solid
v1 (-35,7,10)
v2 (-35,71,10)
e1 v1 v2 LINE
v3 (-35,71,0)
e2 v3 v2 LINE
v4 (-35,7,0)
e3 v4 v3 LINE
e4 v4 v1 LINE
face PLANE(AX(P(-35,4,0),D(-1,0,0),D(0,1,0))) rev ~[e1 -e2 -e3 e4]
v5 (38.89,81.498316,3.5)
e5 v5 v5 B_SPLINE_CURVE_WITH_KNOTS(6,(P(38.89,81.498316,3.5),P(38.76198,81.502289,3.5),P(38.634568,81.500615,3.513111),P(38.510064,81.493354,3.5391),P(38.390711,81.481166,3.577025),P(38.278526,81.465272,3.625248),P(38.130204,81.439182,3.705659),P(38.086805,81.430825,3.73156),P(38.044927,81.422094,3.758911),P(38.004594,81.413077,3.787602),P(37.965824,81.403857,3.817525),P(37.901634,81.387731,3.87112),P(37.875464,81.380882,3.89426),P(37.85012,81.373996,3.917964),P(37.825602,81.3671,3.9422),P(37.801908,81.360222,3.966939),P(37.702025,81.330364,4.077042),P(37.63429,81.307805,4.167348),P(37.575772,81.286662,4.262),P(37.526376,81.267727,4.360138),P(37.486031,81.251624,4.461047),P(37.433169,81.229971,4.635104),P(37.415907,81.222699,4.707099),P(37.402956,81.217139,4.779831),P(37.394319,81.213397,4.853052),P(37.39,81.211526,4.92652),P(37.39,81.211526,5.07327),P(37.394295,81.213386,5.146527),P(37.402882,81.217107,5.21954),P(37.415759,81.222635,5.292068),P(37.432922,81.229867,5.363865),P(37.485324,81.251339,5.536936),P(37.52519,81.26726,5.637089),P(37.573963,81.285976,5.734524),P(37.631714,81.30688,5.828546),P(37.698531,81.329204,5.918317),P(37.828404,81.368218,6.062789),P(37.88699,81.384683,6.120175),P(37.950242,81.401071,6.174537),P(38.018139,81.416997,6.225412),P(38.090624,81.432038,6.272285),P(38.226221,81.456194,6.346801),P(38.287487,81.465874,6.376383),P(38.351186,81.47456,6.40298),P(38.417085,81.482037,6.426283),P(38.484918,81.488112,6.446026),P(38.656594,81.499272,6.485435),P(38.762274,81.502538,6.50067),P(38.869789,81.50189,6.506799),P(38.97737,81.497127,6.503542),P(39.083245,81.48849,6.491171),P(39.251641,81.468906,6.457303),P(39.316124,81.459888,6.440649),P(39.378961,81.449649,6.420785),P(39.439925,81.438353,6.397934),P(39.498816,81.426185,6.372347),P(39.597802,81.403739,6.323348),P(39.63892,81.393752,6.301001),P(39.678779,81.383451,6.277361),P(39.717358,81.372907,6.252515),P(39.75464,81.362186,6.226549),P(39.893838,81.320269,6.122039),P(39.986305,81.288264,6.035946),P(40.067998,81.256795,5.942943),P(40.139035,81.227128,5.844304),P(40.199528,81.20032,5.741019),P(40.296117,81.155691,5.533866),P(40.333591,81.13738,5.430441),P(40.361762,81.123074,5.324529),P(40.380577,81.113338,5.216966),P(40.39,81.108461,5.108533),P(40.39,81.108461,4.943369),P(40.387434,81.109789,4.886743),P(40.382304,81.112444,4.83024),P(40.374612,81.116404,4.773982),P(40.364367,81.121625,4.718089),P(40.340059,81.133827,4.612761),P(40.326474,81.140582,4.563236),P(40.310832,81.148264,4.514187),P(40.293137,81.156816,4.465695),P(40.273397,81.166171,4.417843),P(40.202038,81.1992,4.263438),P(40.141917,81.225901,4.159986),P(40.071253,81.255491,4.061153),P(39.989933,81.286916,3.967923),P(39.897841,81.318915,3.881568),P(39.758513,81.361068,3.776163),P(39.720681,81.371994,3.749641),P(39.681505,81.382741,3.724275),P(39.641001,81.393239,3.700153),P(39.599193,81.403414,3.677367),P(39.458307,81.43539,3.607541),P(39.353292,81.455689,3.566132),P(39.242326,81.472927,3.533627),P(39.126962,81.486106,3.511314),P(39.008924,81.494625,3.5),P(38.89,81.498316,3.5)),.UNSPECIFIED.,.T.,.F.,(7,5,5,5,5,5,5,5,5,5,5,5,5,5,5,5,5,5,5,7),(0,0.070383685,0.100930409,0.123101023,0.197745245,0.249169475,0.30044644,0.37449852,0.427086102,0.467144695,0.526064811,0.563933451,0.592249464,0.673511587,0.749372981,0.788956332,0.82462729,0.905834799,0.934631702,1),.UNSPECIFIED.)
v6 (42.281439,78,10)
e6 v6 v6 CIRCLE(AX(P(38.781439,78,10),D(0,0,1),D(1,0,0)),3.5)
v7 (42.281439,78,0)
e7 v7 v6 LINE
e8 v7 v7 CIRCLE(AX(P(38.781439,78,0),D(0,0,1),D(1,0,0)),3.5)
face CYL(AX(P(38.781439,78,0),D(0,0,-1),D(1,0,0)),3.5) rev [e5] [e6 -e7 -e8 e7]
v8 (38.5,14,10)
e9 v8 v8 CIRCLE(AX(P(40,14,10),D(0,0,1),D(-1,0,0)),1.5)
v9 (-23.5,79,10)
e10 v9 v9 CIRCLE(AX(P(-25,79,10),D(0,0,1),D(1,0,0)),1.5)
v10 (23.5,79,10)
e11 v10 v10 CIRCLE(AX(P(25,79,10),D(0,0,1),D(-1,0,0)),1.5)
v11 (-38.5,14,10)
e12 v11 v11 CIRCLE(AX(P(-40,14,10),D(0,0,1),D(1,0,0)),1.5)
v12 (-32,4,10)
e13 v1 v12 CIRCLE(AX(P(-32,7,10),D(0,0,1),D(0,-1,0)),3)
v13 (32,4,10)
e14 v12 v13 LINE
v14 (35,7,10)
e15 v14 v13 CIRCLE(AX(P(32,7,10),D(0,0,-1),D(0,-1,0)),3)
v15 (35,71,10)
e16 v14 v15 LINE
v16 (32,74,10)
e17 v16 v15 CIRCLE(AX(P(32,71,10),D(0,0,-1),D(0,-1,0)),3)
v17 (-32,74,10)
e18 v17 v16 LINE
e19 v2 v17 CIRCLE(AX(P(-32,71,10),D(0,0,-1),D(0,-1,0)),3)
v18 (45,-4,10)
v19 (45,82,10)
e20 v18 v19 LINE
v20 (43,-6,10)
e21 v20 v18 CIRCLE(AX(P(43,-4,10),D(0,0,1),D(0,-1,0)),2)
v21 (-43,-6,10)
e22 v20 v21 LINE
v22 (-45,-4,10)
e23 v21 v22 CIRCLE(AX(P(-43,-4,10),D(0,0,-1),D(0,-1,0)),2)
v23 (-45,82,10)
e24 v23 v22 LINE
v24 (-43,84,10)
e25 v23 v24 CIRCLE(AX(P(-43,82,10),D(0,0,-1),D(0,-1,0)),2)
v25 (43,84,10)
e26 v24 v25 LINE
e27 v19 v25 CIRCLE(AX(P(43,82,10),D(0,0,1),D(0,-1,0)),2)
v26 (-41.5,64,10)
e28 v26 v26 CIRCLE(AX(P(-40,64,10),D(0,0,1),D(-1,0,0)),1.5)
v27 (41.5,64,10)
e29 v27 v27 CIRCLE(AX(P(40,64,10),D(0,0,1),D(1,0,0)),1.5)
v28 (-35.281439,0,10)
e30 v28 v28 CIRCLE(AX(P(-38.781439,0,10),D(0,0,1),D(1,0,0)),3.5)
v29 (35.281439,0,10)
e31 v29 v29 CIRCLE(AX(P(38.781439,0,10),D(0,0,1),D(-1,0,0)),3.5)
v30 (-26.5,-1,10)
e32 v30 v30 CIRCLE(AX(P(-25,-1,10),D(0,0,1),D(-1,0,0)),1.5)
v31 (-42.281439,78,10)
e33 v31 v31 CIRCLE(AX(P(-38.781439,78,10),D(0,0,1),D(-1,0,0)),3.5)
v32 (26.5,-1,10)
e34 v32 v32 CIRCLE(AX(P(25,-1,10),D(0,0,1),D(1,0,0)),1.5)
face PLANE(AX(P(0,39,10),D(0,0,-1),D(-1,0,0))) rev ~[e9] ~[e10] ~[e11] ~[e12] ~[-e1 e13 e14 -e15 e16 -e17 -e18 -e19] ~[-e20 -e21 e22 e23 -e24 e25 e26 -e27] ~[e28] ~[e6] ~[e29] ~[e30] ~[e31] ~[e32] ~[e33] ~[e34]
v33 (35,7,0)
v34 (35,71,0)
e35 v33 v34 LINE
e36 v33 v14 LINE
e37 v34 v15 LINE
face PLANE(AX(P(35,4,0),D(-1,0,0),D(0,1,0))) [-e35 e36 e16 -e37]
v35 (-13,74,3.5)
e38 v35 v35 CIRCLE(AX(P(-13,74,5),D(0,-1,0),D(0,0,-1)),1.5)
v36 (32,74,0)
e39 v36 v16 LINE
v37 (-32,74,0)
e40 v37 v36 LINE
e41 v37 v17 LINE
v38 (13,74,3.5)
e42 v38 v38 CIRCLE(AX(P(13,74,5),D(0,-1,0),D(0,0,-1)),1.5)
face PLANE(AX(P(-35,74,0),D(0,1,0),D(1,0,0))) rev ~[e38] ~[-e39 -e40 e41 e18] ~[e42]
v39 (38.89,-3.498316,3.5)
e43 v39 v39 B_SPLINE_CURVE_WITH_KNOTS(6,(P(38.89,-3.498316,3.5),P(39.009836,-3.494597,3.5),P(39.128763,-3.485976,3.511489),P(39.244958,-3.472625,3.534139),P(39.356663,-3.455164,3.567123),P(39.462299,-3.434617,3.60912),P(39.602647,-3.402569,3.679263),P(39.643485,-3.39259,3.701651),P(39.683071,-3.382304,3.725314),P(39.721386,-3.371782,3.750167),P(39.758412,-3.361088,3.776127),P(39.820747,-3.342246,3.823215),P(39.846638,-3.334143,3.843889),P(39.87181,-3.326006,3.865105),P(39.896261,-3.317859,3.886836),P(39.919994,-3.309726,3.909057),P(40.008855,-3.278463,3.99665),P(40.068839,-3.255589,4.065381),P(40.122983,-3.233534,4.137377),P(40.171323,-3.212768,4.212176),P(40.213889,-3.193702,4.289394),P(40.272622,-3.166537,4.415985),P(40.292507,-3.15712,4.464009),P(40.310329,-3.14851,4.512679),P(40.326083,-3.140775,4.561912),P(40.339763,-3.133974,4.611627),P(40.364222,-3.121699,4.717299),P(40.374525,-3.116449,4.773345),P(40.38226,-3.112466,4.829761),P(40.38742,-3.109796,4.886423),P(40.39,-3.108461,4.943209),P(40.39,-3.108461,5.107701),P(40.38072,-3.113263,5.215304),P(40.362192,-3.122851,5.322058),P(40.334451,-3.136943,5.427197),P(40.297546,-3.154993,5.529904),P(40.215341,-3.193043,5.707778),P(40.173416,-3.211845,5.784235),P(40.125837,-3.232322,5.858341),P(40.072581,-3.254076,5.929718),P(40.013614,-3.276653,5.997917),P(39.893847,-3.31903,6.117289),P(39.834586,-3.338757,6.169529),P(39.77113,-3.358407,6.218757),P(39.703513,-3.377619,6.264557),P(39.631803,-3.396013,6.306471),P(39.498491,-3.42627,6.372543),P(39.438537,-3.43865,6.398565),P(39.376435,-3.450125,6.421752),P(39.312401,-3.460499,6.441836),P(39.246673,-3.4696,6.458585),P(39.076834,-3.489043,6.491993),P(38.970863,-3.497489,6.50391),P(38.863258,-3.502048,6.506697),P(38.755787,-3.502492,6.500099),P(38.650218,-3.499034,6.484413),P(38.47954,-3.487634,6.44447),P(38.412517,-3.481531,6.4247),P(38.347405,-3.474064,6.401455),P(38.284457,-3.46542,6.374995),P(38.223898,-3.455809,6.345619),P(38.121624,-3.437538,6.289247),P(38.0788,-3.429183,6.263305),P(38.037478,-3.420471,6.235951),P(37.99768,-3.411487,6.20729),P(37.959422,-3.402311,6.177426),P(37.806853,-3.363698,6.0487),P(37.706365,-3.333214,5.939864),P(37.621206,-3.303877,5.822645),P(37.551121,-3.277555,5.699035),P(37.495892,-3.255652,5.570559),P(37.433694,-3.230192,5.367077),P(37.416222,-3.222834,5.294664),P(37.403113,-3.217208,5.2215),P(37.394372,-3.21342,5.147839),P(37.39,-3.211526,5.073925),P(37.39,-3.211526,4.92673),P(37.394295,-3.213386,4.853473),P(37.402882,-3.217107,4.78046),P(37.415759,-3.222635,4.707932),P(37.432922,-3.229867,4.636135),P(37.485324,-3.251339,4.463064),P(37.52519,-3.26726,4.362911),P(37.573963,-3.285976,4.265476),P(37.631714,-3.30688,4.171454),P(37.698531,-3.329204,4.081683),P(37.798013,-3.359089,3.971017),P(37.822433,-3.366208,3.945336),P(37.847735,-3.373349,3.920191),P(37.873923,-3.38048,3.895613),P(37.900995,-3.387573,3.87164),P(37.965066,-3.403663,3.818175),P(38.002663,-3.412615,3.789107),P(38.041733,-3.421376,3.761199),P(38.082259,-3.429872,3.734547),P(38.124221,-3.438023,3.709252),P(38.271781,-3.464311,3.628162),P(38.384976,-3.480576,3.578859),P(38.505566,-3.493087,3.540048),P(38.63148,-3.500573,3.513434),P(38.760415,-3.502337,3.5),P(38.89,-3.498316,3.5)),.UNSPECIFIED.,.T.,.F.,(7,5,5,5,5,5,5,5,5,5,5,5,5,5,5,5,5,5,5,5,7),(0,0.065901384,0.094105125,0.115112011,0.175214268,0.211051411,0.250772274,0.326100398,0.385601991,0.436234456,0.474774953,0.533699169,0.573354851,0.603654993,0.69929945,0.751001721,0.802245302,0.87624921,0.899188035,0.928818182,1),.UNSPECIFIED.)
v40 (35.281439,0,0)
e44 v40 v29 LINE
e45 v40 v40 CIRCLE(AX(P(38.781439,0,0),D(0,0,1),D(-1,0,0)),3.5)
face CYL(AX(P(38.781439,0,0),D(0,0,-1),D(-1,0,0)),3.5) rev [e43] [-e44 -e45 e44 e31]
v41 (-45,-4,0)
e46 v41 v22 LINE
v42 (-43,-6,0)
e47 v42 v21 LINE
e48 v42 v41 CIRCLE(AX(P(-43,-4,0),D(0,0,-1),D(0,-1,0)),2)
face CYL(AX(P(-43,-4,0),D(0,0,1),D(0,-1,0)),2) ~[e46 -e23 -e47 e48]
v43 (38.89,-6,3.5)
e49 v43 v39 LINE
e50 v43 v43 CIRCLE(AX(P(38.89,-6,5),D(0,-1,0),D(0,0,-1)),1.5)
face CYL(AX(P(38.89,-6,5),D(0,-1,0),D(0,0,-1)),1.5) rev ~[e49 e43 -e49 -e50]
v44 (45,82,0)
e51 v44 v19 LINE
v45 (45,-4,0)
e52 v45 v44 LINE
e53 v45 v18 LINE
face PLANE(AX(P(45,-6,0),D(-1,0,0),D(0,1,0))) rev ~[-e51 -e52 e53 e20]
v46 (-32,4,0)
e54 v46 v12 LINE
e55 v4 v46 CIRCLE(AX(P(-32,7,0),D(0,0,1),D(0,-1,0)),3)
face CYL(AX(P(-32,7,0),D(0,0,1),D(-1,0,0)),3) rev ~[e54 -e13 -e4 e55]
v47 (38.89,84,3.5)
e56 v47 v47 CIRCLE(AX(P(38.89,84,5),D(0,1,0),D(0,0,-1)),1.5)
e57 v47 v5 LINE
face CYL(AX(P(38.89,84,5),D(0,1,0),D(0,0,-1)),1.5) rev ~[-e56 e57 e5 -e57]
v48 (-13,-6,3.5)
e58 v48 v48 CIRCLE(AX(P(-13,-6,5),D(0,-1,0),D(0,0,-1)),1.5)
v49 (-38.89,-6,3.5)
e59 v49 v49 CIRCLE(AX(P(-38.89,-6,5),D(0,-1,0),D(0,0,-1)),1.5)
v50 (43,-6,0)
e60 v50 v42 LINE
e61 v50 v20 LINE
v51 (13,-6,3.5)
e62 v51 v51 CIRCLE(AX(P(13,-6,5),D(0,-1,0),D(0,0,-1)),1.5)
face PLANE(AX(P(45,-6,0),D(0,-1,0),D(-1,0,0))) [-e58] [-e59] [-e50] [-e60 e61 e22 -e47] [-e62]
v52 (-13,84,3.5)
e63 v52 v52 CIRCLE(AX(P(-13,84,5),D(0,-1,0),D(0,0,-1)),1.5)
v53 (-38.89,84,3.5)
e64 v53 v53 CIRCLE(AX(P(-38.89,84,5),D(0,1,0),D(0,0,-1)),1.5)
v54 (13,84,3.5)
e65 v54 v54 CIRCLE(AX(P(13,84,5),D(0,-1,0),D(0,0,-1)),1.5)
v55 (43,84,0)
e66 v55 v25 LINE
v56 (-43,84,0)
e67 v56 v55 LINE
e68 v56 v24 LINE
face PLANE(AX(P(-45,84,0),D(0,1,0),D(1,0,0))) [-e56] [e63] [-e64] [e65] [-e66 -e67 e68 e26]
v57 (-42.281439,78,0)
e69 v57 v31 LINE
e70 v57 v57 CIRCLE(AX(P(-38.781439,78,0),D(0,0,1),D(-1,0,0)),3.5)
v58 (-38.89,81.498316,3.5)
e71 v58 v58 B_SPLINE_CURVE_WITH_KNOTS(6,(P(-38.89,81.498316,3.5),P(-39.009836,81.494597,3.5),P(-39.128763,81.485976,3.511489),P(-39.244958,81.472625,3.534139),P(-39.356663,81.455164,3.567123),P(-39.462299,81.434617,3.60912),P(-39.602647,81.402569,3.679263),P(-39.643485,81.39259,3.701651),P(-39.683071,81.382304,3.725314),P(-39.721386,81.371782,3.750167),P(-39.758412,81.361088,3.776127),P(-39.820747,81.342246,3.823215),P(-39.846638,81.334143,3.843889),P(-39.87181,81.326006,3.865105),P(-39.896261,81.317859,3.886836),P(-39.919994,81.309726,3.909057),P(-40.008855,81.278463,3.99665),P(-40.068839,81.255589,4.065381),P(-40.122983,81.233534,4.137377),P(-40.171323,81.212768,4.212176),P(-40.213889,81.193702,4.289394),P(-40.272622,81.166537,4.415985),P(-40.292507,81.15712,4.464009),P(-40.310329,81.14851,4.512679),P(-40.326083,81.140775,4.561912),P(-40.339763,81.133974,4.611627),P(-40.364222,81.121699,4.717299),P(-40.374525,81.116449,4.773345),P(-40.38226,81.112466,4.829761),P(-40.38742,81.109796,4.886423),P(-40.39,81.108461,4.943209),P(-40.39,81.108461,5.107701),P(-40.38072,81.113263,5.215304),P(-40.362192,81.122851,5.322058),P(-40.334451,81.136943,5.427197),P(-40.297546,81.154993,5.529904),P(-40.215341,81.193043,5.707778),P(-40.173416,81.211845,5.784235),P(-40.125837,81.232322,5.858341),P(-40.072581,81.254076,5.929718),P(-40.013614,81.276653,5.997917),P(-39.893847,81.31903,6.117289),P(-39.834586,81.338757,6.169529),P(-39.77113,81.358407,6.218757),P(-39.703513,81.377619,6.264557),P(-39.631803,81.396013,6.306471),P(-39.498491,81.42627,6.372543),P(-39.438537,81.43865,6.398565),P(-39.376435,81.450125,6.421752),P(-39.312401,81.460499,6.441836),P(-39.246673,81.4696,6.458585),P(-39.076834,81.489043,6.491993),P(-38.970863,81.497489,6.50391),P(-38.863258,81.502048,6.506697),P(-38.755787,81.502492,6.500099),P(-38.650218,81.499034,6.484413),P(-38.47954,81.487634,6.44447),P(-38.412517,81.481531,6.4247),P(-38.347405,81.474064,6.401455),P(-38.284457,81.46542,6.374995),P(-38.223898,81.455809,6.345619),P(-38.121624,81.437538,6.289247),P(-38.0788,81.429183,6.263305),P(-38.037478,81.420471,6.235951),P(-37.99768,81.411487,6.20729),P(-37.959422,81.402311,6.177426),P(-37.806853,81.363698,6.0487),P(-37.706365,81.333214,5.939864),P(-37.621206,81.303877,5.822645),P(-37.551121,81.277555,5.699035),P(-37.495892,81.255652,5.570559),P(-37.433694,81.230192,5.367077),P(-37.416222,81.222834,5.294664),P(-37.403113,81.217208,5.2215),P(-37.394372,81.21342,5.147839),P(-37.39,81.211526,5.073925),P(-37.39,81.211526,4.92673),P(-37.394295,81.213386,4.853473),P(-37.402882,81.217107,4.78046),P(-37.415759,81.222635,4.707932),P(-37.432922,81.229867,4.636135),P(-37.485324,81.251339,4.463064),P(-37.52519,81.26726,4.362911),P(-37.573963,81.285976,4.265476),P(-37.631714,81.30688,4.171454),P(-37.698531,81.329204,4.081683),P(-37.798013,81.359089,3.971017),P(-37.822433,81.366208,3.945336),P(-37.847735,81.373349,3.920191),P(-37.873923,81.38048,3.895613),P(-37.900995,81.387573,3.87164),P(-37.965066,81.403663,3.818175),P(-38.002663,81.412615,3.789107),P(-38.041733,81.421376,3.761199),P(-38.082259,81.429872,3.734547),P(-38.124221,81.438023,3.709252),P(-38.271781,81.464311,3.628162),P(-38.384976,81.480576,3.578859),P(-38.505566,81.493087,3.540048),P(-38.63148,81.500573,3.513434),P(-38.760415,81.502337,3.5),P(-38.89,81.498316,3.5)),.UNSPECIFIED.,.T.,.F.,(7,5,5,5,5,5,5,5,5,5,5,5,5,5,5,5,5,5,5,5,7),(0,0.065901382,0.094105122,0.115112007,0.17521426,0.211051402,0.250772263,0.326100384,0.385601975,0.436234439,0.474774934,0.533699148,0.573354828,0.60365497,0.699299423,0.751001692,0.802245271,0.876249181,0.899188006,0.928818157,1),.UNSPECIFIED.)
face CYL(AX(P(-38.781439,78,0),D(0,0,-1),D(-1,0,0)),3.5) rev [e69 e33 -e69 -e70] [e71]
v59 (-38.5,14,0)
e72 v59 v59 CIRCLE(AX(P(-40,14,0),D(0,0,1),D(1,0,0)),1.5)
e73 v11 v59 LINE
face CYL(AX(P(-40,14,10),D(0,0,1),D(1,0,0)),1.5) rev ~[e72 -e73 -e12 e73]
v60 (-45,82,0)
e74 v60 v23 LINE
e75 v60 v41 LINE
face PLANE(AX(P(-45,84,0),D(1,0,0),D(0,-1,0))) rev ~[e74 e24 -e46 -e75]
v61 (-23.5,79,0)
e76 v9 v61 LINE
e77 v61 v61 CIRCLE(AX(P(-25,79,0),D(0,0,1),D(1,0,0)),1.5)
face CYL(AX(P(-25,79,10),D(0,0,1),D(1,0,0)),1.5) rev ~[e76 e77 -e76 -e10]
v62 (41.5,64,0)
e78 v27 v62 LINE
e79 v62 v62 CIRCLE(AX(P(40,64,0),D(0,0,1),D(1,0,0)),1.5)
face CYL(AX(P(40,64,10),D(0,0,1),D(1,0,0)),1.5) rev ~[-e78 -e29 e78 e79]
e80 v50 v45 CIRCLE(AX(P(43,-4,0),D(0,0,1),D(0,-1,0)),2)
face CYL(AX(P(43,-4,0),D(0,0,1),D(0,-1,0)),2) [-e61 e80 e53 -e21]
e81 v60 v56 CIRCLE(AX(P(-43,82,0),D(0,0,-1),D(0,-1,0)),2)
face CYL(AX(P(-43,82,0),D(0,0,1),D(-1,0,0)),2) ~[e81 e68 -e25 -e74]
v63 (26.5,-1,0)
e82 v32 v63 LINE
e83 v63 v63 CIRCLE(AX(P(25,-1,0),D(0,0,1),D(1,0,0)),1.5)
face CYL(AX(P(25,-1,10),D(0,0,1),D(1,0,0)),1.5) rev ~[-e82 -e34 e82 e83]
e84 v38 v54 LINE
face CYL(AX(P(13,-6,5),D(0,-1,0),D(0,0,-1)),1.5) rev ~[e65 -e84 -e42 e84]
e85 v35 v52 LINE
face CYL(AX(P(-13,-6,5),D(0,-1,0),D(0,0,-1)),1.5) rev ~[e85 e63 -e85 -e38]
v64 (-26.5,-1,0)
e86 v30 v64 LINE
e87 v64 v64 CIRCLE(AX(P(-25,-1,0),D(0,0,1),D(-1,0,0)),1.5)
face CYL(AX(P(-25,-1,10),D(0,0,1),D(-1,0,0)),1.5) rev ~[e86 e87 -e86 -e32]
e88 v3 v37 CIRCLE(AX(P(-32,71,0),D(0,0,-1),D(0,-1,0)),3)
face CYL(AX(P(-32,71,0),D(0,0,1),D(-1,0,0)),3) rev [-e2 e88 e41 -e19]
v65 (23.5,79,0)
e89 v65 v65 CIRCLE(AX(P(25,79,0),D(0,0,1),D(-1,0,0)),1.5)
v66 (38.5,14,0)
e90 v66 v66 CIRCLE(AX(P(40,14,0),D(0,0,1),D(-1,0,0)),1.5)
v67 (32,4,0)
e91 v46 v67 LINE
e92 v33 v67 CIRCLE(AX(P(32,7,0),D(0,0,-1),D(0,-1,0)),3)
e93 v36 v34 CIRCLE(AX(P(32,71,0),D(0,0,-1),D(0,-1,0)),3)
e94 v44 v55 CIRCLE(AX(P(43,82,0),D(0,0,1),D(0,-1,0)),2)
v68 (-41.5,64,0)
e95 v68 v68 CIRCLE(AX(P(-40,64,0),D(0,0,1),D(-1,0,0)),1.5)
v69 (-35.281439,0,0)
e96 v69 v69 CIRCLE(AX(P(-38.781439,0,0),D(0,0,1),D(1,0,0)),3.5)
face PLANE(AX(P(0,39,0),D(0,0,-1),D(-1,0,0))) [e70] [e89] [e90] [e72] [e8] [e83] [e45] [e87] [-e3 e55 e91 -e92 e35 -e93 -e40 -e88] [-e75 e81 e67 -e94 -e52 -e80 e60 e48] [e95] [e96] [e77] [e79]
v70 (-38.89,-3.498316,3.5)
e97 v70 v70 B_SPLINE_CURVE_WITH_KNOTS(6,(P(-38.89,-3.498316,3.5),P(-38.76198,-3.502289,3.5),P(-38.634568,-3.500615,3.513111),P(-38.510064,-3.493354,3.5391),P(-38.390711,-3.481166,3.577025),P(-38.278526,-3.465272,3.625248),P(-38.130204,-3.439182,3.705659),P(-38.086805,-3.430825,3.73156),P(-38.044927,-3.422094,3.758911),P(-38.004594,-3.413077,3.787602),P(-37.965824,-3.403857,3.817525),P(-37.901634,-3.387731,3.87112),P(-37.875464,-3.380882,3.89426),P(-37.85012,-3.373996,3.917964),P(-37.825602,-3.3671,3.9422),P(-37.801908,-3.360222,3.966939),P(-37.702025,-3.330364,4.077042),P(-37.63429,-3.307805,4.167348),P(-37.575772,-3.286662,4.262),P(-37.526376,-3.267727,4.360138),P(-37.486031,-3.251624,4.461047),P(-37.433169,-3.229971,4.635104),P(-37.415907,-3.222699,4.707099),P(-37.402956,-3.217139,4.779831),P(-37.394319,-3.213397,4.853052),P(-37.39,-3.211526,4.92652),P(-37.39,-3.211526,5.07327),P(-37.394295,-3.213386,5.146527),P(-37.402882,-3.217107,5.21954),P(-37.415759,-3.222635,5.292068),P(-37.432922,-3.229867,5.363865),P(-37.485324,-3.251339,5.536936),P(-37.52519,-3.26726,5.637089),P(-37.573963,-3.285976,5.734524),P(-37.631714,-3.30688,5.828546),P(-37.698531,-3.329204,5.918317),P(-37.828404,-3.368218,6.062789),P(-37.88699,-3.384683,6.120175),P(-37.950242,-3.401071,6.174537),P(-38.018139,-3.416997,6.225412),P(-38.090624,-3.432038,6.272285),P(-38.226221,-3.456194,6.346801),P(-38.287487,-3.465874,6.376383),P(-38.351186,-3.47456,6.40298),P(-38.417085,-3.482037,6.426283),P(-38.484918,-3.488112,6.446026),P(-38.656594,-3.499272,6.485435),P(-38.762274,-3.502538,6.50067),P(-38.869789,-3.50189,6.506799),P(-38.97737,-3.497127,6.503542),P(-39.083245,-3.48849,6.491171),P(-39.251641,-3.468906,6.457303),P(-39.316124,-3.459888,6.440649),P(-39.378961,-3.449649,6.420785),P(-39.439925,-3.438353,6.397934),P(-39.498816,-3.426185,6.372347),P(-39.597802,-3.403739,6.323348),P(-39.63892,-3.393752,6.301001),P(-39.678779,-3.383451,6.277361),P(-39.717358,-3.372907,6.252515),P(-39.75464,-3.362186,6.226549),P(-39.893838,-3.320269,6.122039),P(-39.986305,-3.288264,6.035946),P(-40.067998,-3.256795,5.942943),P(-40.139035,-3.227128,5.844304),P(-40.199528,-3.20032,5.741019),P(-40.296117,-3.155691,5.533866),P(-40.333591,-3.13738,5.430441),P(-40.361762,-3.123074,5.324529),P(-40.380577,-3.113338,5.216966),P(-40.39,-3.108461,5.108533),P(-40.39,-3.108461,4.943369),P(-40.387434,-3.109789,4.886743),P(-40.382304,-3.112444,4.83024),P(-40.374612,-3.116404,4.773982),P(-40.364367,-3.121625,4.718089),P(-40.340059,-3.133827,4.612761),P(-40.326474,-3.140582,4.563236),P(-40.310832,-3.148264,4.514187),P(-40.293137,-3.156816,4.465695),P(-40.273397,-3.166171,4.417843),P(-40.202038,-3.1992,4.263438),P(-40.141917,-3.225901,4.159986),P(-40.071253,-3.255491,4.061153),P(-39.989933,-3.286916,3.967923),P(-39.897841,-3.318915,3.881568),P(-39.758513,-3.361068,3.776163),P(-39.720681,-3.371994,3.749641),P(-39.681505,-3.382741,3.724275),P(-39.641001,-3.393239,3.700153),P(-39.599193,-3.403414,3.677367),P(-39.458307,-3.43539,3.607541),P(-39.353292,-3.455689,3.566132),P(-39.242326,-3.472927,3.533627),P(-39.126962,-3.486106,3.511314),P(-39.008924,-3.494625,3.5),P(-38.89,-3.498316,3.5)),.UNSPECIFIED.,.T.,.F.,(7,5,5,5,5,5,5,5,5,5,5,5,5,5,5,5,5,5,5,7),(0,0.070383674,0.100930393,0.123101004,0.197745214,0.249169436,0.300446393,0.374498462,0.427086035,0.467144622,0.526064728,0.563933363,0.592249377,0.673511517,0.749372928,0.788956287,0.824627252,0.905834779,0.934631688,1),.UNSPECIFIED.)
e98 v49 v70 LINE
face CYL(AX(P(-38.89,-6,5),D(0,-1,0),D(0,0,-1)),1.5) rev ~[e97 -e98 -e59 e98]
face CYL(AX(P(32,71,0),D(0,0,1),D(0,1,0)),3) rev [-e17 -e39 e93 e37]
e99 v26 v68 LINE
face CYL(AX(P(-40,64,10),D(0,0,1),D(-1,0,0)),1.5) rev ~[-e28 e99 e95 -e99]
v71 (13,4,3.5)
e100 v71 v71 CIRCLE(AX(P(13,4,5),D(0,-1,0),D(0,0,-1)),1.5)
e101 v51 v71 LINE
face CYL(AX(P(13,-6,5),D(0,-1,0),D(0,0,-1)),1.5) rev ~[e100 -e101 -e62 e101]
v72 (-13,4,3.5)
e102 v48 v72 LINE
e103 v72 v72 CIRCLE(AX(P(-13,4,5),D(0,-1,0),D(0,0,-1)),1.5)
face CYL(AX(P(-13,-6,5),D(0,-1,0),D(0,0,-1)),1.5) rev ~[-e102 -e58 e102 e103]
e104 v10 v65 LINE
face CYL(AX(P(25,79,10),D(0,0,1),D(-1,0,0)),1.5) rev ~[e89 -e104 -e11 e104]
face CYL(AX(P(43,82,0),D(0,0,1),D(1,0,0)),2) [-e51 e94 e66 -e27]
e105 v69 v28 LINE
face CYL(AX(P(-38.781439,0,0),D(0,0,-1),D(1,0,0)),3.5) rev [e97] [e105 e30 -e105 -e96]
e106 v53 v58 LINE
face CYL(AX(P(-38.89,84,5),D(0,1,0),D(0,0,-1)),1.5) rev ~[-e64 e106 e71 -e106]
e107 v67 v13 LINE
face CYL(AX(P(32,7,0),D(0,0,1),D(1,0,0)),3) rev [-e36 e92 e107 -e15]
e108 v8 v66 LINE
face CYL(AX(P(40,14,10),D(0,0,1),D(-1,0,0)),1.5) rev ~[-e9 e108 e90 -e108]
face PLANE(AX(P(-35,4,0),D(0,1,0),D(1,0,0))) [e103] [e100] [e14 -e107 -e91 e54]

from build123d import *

# Parameters (mm, degrees)
SKETCH1_R           = 3.5
SKETCH1_W           = 70
SKETCH1_H           = 70
BOSS_EXTRUDE1_DEPTH = 10
FILLET3_R           = 2
SKETCH3_R           = 1.5
CUT_EXTRUDE2_DEPTH  = 90
CUT_EXTRUDE4_REACH  = 103.119
SKETCH5_R           = 1.5
CUT_EXTRUDE5_REACH  = 103.119
SKETCH6_R           = 1.5
FILLET5_R           = 3
CUT_EXTRUDE6_REACH  = 97.818
SKETCH7_R           = 1.5


with BuildPart() as part:
    # Sketch1 → Boss-Extrude1 (new body)
    with BuildSketch(Plane.XY):
        Polygon((45, -6), (-45, -6), (-45, 6), (-45, 72), (-45, 84), (45, 84), (45, 72), (45, 6), align=None)
        with Locations((-38.781438859, 0)):
            Circle(SKETCH1_R, mode=Mode.SUBTRACT)
        with Locations(Location((38.781438859, 0, 0), (0, 0, 180))):
            Circle(SKETCH1_R, mode=Mode.SUBTRACT)
        with Locations(Location((-38.781438859, 78, 0), (0, 0, 180))):
            Circle(SKETCH1_R, mode=Mode.SUBTRACT)
        with Locations((38.781438859, 78)):
            Circle(SKETCH1_R, mode=Mode.SUBTRACT)
        with Locations((0, 39)):
            Rectangle(SKETCH1_W, SKETCH1_H, mode=Mode.SUBTRACT)
    extrude(amount=BOSS_EXTRUDE1_DEPTH)

    # Fillet3
    fillet3_edges = [part.edges().sort_by_distance(p)[0] for p in [
        (-45, 84, 5),
        (45, 84, 5),
        (45, -6, 5),
        (-45, -6, 5),
    ]]
    fillet(fillet3_edges, radius=FILLET3_R)

    # Sketch3 → Cut-Extrude2 (cut)
    with BuildSketch(Plane.XZ.offset(6)):
        with Locations(Location((-13, 5, 0), (0, 0, 270))):
            Circle(SKETCH3_R)
        with Locations(Location((13, 5, 0), (0, 0, 270))):
            Circle(SKETCH3_R)
    extrude(amount=-CUT_EXTRUDE2_DEPTH, mode=Mode.SUBTRACT)

    # Sketch5 → Cut-Extrude4 (cut, up to next)
    with BuildSketch(Plane.XZ.offset(6), mode=Mode.PRIVATE) as cut_extrude4_sk1:
        with Locations(Location((-38.89, 5, 0), (0, 0, 270))):
            Circle(SKETCH5_R)
    cut_extrude4_tool1 = extrude(cut_extrude4_sk1.sketch, amount=-CUT_EXTRUDE4_REACH, mode=Mode.PRIVATE) & part.part
    # Sketch5 → Cut-Extrude4 (cut, up to next)
    with BuildSketch(Plane.XZ.offset(6), mode=Mode.PRIVATE) as cut_extrude4_sk2:
        with Locations(Location((38.89, 5, 0), (0, 0, 270))):
            Circle(SKETCH5_R)
    cut_extrude4_tool2 = extrude(cut_extrude4_sk2.sketch, amount=-CUT_EXTRUDE4_REACH, mode=Mode.PRIVATE) & part.part
    add(cut_extrude4_tool1.solids().sort_by_distance((-38.89, -6, 5))[0], mode=Mode.SUBTRACT)
    add(cut_extrude4_tool2.solids().sort_by_distance((38.89, -6, 5))[0], mode=Mode.SUBTRACT)

    # Sketch6 → Cut-Extrude5 (cut, up to next)
    with BuildSketch(Plane(origin=(0, 84, 0), x_dir=(1, 0, 0), z_dir=(0, 1, 0)), mode=Mode.PRIVATE) as cut_extrude5_sk1:
        with Locations(Location((-38.89, -5, 0), (0, 0, 90))):
            Circle(SKETCH6_R)
    cut_extrude5_tool1 = extrude(cut_extrude5_sk1.sketch, amount=-CUT_EXTRUDE5_REACH, mode=Mode.PRIVATE) & part.part
    # Sketch6 → Cut-Extrude5 (cut, up to next)
    with BuildSketch(Plane(origin=(0, 84, 0), x_dir=(1, 0, 0), z_dir=(0, 1, 0)), mode=Mode.PRIVATE) as cut_extrude5_sk2:
        with Locations(Location((38.89, -5, 0), (0, 0, 90))):
            Circle(SKETCH6_R)
    cut_extrude5_tool2 = extrude(cut_extrude5_sk2.sketch, amount=-CUT_EXTRUDE5_REACH, mode=Mode.PRIVATE) & part.part
    add(cut_extrude5_tool1.solids().sort_by_distance((-38.89, 84, 5))[0], mode=Mode.SUBTRACT)
    add(cut_extrude5_tool2.solids().sort_by_distance((38.89, 84, 5))[0], mode=Mode.SUBTRACT)

    # Fillet5
    fillet5_edges = [part.edges().sort_by_distance(p)[0] for p in [
        (-35, 74, 5),
        (-35, 4, 5),
        (35, 4, 5),
        (35, 74, 5),
    ]]
    fillet(fillet5_edges, radius=FILLET5_R)

    # Sketch7 → Cut-Extrude6 (cut, up to next)
    with BuildSketch(Plane.XY.offset(10), mode=Mode.PRIVATE) as cut_extrude6_sk1:
        with Locations((-25, 79)):
            Circle(SKETCH7_R)
    cut_extrude6_tool1 = extrude(cut_extrude6_sk1.sketch, amount=-CUT_EXTRUDE6_REACH, mode=Mode.PRIVATE) & part.part
    # Sketch7 → Cut-Extrude6 (cut, up to next)
    with BuildSketch(Plane.XY.offset(10), mode=Mode.PRIVATE) as cut_extrude6_sk2:
        with Locations(Location((25, 79, 0), (0, 0, 180))):
            Circle(SKETCH7_R)
    cut_extrude6_tool2 = extrude(cut_extrude6_sk2.sketch, amount=-CUT_EXTRUDE6_REACH, mode=Mode.PRIVATE) & part.part
    # Sketch7 → Cut-Extrude6 (cut, up to next)
    with BuildSketch(Plane.XY.offset(10), mode=Mode.PRIVATE) as cut_extrude6_sk3:
        with Locations((25, -1)):
            Circle(SKETCH7_R)
    cut_extrude6_tool3 = extrude(cut_extrude6_sk3.sketch, amount=-CUT_EXTRUDE6_REACH, mode=Mode.PRIVATE) & part.part
    # Sketch7 → Cut-Extrude6 (cut, up to next)
    with BuildSketch(Plane.XY.offset(10), mode=Mode.PRIVATE) as cut_extrude6_sk4:
        with Locations(Location((-25, -1, 0), (0, 0, 180))):
            Circle(SKETCH7_R)
    cut_extrude6_tool4 = extrude(cut_extrude6_sk4.sketch, amount=-CUT_EXTRUDE6_REACH, mode=Mode.PRIVATE) & part.part
    # Sketch7 → Cut-Extrude6 (cut, up to next)
    with BuildSketch(Plane.XY.offset(10), mode=Mode.PRIVATE) as cut_extrude6_sk5:
        with Locations((40, 64)):
            Circle(SKETCH7_R)
    cut_extrude6_tool5 = extrude(cut_extrude6_sk5.sketch, amount=-CUT_EXTRUDE6_REACH, mode=Mode.PRIVATE) & part.part
    # Sketch7 → Cut-Extrude6 (cut, up to next)
    with BuildSketch(Plane.XY.offset(10), mode=Mode.PRIVATE) as cut_extrude6_sk6:
        with Locations(Location((40, 14, 0), (0, 0, 180))):
            Circle(SKETCH7_R)
    cut_extrude6_tool6 = extrude(cut_extrude6_sk6.sketch, amount=-CUT_EXTRUDE6_REACH, mode=Mode.PRIVATE) & part.part
    # Sketch7 → Cut-Extrude6 (cut, up to next)
    with BuildSketch(Plane.XY.offset(10), mode=Mode.PRIVATE) as cut_extrude6_sk7:
        with Locations((-40, 14)):
            Circle(SKETCH7_R)
    cut_extrude6_tool7 = extrude(cut_extrude6_sk7.sketch, amount=-CUT_EXTRUDE6_REACH, mode=Mode.PRIVATE) & part.part
    # Sketch7 → Cut-Extrude6 (cut, up to next)
    with BuildSketch(Plane.XY.offset(10), mode=Mode.PRIVATE) as cut_extrude6_sk8:
        with Locations(Location((-40, 64, 0), (0, 0, 180))):
            Circle(SKETCH7_R)
    cut_extrude6_tool8 = extrude(cut_extrude6_sk8.sketch, amount=-CUT_EXTRUDE6_REACH, mode=Mode.PRIVATE) & part.part
    add(cut_extrude6_tool1.solids().sort_by_distance((-25, 79, 10))[0], mode=Mode.SUBTRACT)
    add(cut_extrude6_tool2.solids().sort_by_distance((25, 79, 10))[0], mode=Mode.SUBTRACT)
    add(cut_extrude6_tool3.solids().sort_by_distance((25, -1, 10))[0], mode=Mode.SUBTRACT)
    add(cut_extrude6_tool4.solids().sort_by_distance((-25, -1, 10))[0], mode=Mode.SUBTRACT)
    add(cut_extrude6_tool5.solids().sort_by_distance((40, 64, 10))[0], mode=Mode.SUBTRACT)
    add(cut_extrude6_tool6.solids().sort_by_distance((40, 14, 10))[0], mode=Mode.SUBTRACT)
    add(cut_extrude6_tool7.solids().sort_by_distance((-40, 14, 10))[0], mode=Mode.SUBTRACT)
    add(cut_extrude6_tool8.solids().sort_by_distance((-40, 64, 10))[0], mode=Mode.SUBTRACT)


solid = part.part
